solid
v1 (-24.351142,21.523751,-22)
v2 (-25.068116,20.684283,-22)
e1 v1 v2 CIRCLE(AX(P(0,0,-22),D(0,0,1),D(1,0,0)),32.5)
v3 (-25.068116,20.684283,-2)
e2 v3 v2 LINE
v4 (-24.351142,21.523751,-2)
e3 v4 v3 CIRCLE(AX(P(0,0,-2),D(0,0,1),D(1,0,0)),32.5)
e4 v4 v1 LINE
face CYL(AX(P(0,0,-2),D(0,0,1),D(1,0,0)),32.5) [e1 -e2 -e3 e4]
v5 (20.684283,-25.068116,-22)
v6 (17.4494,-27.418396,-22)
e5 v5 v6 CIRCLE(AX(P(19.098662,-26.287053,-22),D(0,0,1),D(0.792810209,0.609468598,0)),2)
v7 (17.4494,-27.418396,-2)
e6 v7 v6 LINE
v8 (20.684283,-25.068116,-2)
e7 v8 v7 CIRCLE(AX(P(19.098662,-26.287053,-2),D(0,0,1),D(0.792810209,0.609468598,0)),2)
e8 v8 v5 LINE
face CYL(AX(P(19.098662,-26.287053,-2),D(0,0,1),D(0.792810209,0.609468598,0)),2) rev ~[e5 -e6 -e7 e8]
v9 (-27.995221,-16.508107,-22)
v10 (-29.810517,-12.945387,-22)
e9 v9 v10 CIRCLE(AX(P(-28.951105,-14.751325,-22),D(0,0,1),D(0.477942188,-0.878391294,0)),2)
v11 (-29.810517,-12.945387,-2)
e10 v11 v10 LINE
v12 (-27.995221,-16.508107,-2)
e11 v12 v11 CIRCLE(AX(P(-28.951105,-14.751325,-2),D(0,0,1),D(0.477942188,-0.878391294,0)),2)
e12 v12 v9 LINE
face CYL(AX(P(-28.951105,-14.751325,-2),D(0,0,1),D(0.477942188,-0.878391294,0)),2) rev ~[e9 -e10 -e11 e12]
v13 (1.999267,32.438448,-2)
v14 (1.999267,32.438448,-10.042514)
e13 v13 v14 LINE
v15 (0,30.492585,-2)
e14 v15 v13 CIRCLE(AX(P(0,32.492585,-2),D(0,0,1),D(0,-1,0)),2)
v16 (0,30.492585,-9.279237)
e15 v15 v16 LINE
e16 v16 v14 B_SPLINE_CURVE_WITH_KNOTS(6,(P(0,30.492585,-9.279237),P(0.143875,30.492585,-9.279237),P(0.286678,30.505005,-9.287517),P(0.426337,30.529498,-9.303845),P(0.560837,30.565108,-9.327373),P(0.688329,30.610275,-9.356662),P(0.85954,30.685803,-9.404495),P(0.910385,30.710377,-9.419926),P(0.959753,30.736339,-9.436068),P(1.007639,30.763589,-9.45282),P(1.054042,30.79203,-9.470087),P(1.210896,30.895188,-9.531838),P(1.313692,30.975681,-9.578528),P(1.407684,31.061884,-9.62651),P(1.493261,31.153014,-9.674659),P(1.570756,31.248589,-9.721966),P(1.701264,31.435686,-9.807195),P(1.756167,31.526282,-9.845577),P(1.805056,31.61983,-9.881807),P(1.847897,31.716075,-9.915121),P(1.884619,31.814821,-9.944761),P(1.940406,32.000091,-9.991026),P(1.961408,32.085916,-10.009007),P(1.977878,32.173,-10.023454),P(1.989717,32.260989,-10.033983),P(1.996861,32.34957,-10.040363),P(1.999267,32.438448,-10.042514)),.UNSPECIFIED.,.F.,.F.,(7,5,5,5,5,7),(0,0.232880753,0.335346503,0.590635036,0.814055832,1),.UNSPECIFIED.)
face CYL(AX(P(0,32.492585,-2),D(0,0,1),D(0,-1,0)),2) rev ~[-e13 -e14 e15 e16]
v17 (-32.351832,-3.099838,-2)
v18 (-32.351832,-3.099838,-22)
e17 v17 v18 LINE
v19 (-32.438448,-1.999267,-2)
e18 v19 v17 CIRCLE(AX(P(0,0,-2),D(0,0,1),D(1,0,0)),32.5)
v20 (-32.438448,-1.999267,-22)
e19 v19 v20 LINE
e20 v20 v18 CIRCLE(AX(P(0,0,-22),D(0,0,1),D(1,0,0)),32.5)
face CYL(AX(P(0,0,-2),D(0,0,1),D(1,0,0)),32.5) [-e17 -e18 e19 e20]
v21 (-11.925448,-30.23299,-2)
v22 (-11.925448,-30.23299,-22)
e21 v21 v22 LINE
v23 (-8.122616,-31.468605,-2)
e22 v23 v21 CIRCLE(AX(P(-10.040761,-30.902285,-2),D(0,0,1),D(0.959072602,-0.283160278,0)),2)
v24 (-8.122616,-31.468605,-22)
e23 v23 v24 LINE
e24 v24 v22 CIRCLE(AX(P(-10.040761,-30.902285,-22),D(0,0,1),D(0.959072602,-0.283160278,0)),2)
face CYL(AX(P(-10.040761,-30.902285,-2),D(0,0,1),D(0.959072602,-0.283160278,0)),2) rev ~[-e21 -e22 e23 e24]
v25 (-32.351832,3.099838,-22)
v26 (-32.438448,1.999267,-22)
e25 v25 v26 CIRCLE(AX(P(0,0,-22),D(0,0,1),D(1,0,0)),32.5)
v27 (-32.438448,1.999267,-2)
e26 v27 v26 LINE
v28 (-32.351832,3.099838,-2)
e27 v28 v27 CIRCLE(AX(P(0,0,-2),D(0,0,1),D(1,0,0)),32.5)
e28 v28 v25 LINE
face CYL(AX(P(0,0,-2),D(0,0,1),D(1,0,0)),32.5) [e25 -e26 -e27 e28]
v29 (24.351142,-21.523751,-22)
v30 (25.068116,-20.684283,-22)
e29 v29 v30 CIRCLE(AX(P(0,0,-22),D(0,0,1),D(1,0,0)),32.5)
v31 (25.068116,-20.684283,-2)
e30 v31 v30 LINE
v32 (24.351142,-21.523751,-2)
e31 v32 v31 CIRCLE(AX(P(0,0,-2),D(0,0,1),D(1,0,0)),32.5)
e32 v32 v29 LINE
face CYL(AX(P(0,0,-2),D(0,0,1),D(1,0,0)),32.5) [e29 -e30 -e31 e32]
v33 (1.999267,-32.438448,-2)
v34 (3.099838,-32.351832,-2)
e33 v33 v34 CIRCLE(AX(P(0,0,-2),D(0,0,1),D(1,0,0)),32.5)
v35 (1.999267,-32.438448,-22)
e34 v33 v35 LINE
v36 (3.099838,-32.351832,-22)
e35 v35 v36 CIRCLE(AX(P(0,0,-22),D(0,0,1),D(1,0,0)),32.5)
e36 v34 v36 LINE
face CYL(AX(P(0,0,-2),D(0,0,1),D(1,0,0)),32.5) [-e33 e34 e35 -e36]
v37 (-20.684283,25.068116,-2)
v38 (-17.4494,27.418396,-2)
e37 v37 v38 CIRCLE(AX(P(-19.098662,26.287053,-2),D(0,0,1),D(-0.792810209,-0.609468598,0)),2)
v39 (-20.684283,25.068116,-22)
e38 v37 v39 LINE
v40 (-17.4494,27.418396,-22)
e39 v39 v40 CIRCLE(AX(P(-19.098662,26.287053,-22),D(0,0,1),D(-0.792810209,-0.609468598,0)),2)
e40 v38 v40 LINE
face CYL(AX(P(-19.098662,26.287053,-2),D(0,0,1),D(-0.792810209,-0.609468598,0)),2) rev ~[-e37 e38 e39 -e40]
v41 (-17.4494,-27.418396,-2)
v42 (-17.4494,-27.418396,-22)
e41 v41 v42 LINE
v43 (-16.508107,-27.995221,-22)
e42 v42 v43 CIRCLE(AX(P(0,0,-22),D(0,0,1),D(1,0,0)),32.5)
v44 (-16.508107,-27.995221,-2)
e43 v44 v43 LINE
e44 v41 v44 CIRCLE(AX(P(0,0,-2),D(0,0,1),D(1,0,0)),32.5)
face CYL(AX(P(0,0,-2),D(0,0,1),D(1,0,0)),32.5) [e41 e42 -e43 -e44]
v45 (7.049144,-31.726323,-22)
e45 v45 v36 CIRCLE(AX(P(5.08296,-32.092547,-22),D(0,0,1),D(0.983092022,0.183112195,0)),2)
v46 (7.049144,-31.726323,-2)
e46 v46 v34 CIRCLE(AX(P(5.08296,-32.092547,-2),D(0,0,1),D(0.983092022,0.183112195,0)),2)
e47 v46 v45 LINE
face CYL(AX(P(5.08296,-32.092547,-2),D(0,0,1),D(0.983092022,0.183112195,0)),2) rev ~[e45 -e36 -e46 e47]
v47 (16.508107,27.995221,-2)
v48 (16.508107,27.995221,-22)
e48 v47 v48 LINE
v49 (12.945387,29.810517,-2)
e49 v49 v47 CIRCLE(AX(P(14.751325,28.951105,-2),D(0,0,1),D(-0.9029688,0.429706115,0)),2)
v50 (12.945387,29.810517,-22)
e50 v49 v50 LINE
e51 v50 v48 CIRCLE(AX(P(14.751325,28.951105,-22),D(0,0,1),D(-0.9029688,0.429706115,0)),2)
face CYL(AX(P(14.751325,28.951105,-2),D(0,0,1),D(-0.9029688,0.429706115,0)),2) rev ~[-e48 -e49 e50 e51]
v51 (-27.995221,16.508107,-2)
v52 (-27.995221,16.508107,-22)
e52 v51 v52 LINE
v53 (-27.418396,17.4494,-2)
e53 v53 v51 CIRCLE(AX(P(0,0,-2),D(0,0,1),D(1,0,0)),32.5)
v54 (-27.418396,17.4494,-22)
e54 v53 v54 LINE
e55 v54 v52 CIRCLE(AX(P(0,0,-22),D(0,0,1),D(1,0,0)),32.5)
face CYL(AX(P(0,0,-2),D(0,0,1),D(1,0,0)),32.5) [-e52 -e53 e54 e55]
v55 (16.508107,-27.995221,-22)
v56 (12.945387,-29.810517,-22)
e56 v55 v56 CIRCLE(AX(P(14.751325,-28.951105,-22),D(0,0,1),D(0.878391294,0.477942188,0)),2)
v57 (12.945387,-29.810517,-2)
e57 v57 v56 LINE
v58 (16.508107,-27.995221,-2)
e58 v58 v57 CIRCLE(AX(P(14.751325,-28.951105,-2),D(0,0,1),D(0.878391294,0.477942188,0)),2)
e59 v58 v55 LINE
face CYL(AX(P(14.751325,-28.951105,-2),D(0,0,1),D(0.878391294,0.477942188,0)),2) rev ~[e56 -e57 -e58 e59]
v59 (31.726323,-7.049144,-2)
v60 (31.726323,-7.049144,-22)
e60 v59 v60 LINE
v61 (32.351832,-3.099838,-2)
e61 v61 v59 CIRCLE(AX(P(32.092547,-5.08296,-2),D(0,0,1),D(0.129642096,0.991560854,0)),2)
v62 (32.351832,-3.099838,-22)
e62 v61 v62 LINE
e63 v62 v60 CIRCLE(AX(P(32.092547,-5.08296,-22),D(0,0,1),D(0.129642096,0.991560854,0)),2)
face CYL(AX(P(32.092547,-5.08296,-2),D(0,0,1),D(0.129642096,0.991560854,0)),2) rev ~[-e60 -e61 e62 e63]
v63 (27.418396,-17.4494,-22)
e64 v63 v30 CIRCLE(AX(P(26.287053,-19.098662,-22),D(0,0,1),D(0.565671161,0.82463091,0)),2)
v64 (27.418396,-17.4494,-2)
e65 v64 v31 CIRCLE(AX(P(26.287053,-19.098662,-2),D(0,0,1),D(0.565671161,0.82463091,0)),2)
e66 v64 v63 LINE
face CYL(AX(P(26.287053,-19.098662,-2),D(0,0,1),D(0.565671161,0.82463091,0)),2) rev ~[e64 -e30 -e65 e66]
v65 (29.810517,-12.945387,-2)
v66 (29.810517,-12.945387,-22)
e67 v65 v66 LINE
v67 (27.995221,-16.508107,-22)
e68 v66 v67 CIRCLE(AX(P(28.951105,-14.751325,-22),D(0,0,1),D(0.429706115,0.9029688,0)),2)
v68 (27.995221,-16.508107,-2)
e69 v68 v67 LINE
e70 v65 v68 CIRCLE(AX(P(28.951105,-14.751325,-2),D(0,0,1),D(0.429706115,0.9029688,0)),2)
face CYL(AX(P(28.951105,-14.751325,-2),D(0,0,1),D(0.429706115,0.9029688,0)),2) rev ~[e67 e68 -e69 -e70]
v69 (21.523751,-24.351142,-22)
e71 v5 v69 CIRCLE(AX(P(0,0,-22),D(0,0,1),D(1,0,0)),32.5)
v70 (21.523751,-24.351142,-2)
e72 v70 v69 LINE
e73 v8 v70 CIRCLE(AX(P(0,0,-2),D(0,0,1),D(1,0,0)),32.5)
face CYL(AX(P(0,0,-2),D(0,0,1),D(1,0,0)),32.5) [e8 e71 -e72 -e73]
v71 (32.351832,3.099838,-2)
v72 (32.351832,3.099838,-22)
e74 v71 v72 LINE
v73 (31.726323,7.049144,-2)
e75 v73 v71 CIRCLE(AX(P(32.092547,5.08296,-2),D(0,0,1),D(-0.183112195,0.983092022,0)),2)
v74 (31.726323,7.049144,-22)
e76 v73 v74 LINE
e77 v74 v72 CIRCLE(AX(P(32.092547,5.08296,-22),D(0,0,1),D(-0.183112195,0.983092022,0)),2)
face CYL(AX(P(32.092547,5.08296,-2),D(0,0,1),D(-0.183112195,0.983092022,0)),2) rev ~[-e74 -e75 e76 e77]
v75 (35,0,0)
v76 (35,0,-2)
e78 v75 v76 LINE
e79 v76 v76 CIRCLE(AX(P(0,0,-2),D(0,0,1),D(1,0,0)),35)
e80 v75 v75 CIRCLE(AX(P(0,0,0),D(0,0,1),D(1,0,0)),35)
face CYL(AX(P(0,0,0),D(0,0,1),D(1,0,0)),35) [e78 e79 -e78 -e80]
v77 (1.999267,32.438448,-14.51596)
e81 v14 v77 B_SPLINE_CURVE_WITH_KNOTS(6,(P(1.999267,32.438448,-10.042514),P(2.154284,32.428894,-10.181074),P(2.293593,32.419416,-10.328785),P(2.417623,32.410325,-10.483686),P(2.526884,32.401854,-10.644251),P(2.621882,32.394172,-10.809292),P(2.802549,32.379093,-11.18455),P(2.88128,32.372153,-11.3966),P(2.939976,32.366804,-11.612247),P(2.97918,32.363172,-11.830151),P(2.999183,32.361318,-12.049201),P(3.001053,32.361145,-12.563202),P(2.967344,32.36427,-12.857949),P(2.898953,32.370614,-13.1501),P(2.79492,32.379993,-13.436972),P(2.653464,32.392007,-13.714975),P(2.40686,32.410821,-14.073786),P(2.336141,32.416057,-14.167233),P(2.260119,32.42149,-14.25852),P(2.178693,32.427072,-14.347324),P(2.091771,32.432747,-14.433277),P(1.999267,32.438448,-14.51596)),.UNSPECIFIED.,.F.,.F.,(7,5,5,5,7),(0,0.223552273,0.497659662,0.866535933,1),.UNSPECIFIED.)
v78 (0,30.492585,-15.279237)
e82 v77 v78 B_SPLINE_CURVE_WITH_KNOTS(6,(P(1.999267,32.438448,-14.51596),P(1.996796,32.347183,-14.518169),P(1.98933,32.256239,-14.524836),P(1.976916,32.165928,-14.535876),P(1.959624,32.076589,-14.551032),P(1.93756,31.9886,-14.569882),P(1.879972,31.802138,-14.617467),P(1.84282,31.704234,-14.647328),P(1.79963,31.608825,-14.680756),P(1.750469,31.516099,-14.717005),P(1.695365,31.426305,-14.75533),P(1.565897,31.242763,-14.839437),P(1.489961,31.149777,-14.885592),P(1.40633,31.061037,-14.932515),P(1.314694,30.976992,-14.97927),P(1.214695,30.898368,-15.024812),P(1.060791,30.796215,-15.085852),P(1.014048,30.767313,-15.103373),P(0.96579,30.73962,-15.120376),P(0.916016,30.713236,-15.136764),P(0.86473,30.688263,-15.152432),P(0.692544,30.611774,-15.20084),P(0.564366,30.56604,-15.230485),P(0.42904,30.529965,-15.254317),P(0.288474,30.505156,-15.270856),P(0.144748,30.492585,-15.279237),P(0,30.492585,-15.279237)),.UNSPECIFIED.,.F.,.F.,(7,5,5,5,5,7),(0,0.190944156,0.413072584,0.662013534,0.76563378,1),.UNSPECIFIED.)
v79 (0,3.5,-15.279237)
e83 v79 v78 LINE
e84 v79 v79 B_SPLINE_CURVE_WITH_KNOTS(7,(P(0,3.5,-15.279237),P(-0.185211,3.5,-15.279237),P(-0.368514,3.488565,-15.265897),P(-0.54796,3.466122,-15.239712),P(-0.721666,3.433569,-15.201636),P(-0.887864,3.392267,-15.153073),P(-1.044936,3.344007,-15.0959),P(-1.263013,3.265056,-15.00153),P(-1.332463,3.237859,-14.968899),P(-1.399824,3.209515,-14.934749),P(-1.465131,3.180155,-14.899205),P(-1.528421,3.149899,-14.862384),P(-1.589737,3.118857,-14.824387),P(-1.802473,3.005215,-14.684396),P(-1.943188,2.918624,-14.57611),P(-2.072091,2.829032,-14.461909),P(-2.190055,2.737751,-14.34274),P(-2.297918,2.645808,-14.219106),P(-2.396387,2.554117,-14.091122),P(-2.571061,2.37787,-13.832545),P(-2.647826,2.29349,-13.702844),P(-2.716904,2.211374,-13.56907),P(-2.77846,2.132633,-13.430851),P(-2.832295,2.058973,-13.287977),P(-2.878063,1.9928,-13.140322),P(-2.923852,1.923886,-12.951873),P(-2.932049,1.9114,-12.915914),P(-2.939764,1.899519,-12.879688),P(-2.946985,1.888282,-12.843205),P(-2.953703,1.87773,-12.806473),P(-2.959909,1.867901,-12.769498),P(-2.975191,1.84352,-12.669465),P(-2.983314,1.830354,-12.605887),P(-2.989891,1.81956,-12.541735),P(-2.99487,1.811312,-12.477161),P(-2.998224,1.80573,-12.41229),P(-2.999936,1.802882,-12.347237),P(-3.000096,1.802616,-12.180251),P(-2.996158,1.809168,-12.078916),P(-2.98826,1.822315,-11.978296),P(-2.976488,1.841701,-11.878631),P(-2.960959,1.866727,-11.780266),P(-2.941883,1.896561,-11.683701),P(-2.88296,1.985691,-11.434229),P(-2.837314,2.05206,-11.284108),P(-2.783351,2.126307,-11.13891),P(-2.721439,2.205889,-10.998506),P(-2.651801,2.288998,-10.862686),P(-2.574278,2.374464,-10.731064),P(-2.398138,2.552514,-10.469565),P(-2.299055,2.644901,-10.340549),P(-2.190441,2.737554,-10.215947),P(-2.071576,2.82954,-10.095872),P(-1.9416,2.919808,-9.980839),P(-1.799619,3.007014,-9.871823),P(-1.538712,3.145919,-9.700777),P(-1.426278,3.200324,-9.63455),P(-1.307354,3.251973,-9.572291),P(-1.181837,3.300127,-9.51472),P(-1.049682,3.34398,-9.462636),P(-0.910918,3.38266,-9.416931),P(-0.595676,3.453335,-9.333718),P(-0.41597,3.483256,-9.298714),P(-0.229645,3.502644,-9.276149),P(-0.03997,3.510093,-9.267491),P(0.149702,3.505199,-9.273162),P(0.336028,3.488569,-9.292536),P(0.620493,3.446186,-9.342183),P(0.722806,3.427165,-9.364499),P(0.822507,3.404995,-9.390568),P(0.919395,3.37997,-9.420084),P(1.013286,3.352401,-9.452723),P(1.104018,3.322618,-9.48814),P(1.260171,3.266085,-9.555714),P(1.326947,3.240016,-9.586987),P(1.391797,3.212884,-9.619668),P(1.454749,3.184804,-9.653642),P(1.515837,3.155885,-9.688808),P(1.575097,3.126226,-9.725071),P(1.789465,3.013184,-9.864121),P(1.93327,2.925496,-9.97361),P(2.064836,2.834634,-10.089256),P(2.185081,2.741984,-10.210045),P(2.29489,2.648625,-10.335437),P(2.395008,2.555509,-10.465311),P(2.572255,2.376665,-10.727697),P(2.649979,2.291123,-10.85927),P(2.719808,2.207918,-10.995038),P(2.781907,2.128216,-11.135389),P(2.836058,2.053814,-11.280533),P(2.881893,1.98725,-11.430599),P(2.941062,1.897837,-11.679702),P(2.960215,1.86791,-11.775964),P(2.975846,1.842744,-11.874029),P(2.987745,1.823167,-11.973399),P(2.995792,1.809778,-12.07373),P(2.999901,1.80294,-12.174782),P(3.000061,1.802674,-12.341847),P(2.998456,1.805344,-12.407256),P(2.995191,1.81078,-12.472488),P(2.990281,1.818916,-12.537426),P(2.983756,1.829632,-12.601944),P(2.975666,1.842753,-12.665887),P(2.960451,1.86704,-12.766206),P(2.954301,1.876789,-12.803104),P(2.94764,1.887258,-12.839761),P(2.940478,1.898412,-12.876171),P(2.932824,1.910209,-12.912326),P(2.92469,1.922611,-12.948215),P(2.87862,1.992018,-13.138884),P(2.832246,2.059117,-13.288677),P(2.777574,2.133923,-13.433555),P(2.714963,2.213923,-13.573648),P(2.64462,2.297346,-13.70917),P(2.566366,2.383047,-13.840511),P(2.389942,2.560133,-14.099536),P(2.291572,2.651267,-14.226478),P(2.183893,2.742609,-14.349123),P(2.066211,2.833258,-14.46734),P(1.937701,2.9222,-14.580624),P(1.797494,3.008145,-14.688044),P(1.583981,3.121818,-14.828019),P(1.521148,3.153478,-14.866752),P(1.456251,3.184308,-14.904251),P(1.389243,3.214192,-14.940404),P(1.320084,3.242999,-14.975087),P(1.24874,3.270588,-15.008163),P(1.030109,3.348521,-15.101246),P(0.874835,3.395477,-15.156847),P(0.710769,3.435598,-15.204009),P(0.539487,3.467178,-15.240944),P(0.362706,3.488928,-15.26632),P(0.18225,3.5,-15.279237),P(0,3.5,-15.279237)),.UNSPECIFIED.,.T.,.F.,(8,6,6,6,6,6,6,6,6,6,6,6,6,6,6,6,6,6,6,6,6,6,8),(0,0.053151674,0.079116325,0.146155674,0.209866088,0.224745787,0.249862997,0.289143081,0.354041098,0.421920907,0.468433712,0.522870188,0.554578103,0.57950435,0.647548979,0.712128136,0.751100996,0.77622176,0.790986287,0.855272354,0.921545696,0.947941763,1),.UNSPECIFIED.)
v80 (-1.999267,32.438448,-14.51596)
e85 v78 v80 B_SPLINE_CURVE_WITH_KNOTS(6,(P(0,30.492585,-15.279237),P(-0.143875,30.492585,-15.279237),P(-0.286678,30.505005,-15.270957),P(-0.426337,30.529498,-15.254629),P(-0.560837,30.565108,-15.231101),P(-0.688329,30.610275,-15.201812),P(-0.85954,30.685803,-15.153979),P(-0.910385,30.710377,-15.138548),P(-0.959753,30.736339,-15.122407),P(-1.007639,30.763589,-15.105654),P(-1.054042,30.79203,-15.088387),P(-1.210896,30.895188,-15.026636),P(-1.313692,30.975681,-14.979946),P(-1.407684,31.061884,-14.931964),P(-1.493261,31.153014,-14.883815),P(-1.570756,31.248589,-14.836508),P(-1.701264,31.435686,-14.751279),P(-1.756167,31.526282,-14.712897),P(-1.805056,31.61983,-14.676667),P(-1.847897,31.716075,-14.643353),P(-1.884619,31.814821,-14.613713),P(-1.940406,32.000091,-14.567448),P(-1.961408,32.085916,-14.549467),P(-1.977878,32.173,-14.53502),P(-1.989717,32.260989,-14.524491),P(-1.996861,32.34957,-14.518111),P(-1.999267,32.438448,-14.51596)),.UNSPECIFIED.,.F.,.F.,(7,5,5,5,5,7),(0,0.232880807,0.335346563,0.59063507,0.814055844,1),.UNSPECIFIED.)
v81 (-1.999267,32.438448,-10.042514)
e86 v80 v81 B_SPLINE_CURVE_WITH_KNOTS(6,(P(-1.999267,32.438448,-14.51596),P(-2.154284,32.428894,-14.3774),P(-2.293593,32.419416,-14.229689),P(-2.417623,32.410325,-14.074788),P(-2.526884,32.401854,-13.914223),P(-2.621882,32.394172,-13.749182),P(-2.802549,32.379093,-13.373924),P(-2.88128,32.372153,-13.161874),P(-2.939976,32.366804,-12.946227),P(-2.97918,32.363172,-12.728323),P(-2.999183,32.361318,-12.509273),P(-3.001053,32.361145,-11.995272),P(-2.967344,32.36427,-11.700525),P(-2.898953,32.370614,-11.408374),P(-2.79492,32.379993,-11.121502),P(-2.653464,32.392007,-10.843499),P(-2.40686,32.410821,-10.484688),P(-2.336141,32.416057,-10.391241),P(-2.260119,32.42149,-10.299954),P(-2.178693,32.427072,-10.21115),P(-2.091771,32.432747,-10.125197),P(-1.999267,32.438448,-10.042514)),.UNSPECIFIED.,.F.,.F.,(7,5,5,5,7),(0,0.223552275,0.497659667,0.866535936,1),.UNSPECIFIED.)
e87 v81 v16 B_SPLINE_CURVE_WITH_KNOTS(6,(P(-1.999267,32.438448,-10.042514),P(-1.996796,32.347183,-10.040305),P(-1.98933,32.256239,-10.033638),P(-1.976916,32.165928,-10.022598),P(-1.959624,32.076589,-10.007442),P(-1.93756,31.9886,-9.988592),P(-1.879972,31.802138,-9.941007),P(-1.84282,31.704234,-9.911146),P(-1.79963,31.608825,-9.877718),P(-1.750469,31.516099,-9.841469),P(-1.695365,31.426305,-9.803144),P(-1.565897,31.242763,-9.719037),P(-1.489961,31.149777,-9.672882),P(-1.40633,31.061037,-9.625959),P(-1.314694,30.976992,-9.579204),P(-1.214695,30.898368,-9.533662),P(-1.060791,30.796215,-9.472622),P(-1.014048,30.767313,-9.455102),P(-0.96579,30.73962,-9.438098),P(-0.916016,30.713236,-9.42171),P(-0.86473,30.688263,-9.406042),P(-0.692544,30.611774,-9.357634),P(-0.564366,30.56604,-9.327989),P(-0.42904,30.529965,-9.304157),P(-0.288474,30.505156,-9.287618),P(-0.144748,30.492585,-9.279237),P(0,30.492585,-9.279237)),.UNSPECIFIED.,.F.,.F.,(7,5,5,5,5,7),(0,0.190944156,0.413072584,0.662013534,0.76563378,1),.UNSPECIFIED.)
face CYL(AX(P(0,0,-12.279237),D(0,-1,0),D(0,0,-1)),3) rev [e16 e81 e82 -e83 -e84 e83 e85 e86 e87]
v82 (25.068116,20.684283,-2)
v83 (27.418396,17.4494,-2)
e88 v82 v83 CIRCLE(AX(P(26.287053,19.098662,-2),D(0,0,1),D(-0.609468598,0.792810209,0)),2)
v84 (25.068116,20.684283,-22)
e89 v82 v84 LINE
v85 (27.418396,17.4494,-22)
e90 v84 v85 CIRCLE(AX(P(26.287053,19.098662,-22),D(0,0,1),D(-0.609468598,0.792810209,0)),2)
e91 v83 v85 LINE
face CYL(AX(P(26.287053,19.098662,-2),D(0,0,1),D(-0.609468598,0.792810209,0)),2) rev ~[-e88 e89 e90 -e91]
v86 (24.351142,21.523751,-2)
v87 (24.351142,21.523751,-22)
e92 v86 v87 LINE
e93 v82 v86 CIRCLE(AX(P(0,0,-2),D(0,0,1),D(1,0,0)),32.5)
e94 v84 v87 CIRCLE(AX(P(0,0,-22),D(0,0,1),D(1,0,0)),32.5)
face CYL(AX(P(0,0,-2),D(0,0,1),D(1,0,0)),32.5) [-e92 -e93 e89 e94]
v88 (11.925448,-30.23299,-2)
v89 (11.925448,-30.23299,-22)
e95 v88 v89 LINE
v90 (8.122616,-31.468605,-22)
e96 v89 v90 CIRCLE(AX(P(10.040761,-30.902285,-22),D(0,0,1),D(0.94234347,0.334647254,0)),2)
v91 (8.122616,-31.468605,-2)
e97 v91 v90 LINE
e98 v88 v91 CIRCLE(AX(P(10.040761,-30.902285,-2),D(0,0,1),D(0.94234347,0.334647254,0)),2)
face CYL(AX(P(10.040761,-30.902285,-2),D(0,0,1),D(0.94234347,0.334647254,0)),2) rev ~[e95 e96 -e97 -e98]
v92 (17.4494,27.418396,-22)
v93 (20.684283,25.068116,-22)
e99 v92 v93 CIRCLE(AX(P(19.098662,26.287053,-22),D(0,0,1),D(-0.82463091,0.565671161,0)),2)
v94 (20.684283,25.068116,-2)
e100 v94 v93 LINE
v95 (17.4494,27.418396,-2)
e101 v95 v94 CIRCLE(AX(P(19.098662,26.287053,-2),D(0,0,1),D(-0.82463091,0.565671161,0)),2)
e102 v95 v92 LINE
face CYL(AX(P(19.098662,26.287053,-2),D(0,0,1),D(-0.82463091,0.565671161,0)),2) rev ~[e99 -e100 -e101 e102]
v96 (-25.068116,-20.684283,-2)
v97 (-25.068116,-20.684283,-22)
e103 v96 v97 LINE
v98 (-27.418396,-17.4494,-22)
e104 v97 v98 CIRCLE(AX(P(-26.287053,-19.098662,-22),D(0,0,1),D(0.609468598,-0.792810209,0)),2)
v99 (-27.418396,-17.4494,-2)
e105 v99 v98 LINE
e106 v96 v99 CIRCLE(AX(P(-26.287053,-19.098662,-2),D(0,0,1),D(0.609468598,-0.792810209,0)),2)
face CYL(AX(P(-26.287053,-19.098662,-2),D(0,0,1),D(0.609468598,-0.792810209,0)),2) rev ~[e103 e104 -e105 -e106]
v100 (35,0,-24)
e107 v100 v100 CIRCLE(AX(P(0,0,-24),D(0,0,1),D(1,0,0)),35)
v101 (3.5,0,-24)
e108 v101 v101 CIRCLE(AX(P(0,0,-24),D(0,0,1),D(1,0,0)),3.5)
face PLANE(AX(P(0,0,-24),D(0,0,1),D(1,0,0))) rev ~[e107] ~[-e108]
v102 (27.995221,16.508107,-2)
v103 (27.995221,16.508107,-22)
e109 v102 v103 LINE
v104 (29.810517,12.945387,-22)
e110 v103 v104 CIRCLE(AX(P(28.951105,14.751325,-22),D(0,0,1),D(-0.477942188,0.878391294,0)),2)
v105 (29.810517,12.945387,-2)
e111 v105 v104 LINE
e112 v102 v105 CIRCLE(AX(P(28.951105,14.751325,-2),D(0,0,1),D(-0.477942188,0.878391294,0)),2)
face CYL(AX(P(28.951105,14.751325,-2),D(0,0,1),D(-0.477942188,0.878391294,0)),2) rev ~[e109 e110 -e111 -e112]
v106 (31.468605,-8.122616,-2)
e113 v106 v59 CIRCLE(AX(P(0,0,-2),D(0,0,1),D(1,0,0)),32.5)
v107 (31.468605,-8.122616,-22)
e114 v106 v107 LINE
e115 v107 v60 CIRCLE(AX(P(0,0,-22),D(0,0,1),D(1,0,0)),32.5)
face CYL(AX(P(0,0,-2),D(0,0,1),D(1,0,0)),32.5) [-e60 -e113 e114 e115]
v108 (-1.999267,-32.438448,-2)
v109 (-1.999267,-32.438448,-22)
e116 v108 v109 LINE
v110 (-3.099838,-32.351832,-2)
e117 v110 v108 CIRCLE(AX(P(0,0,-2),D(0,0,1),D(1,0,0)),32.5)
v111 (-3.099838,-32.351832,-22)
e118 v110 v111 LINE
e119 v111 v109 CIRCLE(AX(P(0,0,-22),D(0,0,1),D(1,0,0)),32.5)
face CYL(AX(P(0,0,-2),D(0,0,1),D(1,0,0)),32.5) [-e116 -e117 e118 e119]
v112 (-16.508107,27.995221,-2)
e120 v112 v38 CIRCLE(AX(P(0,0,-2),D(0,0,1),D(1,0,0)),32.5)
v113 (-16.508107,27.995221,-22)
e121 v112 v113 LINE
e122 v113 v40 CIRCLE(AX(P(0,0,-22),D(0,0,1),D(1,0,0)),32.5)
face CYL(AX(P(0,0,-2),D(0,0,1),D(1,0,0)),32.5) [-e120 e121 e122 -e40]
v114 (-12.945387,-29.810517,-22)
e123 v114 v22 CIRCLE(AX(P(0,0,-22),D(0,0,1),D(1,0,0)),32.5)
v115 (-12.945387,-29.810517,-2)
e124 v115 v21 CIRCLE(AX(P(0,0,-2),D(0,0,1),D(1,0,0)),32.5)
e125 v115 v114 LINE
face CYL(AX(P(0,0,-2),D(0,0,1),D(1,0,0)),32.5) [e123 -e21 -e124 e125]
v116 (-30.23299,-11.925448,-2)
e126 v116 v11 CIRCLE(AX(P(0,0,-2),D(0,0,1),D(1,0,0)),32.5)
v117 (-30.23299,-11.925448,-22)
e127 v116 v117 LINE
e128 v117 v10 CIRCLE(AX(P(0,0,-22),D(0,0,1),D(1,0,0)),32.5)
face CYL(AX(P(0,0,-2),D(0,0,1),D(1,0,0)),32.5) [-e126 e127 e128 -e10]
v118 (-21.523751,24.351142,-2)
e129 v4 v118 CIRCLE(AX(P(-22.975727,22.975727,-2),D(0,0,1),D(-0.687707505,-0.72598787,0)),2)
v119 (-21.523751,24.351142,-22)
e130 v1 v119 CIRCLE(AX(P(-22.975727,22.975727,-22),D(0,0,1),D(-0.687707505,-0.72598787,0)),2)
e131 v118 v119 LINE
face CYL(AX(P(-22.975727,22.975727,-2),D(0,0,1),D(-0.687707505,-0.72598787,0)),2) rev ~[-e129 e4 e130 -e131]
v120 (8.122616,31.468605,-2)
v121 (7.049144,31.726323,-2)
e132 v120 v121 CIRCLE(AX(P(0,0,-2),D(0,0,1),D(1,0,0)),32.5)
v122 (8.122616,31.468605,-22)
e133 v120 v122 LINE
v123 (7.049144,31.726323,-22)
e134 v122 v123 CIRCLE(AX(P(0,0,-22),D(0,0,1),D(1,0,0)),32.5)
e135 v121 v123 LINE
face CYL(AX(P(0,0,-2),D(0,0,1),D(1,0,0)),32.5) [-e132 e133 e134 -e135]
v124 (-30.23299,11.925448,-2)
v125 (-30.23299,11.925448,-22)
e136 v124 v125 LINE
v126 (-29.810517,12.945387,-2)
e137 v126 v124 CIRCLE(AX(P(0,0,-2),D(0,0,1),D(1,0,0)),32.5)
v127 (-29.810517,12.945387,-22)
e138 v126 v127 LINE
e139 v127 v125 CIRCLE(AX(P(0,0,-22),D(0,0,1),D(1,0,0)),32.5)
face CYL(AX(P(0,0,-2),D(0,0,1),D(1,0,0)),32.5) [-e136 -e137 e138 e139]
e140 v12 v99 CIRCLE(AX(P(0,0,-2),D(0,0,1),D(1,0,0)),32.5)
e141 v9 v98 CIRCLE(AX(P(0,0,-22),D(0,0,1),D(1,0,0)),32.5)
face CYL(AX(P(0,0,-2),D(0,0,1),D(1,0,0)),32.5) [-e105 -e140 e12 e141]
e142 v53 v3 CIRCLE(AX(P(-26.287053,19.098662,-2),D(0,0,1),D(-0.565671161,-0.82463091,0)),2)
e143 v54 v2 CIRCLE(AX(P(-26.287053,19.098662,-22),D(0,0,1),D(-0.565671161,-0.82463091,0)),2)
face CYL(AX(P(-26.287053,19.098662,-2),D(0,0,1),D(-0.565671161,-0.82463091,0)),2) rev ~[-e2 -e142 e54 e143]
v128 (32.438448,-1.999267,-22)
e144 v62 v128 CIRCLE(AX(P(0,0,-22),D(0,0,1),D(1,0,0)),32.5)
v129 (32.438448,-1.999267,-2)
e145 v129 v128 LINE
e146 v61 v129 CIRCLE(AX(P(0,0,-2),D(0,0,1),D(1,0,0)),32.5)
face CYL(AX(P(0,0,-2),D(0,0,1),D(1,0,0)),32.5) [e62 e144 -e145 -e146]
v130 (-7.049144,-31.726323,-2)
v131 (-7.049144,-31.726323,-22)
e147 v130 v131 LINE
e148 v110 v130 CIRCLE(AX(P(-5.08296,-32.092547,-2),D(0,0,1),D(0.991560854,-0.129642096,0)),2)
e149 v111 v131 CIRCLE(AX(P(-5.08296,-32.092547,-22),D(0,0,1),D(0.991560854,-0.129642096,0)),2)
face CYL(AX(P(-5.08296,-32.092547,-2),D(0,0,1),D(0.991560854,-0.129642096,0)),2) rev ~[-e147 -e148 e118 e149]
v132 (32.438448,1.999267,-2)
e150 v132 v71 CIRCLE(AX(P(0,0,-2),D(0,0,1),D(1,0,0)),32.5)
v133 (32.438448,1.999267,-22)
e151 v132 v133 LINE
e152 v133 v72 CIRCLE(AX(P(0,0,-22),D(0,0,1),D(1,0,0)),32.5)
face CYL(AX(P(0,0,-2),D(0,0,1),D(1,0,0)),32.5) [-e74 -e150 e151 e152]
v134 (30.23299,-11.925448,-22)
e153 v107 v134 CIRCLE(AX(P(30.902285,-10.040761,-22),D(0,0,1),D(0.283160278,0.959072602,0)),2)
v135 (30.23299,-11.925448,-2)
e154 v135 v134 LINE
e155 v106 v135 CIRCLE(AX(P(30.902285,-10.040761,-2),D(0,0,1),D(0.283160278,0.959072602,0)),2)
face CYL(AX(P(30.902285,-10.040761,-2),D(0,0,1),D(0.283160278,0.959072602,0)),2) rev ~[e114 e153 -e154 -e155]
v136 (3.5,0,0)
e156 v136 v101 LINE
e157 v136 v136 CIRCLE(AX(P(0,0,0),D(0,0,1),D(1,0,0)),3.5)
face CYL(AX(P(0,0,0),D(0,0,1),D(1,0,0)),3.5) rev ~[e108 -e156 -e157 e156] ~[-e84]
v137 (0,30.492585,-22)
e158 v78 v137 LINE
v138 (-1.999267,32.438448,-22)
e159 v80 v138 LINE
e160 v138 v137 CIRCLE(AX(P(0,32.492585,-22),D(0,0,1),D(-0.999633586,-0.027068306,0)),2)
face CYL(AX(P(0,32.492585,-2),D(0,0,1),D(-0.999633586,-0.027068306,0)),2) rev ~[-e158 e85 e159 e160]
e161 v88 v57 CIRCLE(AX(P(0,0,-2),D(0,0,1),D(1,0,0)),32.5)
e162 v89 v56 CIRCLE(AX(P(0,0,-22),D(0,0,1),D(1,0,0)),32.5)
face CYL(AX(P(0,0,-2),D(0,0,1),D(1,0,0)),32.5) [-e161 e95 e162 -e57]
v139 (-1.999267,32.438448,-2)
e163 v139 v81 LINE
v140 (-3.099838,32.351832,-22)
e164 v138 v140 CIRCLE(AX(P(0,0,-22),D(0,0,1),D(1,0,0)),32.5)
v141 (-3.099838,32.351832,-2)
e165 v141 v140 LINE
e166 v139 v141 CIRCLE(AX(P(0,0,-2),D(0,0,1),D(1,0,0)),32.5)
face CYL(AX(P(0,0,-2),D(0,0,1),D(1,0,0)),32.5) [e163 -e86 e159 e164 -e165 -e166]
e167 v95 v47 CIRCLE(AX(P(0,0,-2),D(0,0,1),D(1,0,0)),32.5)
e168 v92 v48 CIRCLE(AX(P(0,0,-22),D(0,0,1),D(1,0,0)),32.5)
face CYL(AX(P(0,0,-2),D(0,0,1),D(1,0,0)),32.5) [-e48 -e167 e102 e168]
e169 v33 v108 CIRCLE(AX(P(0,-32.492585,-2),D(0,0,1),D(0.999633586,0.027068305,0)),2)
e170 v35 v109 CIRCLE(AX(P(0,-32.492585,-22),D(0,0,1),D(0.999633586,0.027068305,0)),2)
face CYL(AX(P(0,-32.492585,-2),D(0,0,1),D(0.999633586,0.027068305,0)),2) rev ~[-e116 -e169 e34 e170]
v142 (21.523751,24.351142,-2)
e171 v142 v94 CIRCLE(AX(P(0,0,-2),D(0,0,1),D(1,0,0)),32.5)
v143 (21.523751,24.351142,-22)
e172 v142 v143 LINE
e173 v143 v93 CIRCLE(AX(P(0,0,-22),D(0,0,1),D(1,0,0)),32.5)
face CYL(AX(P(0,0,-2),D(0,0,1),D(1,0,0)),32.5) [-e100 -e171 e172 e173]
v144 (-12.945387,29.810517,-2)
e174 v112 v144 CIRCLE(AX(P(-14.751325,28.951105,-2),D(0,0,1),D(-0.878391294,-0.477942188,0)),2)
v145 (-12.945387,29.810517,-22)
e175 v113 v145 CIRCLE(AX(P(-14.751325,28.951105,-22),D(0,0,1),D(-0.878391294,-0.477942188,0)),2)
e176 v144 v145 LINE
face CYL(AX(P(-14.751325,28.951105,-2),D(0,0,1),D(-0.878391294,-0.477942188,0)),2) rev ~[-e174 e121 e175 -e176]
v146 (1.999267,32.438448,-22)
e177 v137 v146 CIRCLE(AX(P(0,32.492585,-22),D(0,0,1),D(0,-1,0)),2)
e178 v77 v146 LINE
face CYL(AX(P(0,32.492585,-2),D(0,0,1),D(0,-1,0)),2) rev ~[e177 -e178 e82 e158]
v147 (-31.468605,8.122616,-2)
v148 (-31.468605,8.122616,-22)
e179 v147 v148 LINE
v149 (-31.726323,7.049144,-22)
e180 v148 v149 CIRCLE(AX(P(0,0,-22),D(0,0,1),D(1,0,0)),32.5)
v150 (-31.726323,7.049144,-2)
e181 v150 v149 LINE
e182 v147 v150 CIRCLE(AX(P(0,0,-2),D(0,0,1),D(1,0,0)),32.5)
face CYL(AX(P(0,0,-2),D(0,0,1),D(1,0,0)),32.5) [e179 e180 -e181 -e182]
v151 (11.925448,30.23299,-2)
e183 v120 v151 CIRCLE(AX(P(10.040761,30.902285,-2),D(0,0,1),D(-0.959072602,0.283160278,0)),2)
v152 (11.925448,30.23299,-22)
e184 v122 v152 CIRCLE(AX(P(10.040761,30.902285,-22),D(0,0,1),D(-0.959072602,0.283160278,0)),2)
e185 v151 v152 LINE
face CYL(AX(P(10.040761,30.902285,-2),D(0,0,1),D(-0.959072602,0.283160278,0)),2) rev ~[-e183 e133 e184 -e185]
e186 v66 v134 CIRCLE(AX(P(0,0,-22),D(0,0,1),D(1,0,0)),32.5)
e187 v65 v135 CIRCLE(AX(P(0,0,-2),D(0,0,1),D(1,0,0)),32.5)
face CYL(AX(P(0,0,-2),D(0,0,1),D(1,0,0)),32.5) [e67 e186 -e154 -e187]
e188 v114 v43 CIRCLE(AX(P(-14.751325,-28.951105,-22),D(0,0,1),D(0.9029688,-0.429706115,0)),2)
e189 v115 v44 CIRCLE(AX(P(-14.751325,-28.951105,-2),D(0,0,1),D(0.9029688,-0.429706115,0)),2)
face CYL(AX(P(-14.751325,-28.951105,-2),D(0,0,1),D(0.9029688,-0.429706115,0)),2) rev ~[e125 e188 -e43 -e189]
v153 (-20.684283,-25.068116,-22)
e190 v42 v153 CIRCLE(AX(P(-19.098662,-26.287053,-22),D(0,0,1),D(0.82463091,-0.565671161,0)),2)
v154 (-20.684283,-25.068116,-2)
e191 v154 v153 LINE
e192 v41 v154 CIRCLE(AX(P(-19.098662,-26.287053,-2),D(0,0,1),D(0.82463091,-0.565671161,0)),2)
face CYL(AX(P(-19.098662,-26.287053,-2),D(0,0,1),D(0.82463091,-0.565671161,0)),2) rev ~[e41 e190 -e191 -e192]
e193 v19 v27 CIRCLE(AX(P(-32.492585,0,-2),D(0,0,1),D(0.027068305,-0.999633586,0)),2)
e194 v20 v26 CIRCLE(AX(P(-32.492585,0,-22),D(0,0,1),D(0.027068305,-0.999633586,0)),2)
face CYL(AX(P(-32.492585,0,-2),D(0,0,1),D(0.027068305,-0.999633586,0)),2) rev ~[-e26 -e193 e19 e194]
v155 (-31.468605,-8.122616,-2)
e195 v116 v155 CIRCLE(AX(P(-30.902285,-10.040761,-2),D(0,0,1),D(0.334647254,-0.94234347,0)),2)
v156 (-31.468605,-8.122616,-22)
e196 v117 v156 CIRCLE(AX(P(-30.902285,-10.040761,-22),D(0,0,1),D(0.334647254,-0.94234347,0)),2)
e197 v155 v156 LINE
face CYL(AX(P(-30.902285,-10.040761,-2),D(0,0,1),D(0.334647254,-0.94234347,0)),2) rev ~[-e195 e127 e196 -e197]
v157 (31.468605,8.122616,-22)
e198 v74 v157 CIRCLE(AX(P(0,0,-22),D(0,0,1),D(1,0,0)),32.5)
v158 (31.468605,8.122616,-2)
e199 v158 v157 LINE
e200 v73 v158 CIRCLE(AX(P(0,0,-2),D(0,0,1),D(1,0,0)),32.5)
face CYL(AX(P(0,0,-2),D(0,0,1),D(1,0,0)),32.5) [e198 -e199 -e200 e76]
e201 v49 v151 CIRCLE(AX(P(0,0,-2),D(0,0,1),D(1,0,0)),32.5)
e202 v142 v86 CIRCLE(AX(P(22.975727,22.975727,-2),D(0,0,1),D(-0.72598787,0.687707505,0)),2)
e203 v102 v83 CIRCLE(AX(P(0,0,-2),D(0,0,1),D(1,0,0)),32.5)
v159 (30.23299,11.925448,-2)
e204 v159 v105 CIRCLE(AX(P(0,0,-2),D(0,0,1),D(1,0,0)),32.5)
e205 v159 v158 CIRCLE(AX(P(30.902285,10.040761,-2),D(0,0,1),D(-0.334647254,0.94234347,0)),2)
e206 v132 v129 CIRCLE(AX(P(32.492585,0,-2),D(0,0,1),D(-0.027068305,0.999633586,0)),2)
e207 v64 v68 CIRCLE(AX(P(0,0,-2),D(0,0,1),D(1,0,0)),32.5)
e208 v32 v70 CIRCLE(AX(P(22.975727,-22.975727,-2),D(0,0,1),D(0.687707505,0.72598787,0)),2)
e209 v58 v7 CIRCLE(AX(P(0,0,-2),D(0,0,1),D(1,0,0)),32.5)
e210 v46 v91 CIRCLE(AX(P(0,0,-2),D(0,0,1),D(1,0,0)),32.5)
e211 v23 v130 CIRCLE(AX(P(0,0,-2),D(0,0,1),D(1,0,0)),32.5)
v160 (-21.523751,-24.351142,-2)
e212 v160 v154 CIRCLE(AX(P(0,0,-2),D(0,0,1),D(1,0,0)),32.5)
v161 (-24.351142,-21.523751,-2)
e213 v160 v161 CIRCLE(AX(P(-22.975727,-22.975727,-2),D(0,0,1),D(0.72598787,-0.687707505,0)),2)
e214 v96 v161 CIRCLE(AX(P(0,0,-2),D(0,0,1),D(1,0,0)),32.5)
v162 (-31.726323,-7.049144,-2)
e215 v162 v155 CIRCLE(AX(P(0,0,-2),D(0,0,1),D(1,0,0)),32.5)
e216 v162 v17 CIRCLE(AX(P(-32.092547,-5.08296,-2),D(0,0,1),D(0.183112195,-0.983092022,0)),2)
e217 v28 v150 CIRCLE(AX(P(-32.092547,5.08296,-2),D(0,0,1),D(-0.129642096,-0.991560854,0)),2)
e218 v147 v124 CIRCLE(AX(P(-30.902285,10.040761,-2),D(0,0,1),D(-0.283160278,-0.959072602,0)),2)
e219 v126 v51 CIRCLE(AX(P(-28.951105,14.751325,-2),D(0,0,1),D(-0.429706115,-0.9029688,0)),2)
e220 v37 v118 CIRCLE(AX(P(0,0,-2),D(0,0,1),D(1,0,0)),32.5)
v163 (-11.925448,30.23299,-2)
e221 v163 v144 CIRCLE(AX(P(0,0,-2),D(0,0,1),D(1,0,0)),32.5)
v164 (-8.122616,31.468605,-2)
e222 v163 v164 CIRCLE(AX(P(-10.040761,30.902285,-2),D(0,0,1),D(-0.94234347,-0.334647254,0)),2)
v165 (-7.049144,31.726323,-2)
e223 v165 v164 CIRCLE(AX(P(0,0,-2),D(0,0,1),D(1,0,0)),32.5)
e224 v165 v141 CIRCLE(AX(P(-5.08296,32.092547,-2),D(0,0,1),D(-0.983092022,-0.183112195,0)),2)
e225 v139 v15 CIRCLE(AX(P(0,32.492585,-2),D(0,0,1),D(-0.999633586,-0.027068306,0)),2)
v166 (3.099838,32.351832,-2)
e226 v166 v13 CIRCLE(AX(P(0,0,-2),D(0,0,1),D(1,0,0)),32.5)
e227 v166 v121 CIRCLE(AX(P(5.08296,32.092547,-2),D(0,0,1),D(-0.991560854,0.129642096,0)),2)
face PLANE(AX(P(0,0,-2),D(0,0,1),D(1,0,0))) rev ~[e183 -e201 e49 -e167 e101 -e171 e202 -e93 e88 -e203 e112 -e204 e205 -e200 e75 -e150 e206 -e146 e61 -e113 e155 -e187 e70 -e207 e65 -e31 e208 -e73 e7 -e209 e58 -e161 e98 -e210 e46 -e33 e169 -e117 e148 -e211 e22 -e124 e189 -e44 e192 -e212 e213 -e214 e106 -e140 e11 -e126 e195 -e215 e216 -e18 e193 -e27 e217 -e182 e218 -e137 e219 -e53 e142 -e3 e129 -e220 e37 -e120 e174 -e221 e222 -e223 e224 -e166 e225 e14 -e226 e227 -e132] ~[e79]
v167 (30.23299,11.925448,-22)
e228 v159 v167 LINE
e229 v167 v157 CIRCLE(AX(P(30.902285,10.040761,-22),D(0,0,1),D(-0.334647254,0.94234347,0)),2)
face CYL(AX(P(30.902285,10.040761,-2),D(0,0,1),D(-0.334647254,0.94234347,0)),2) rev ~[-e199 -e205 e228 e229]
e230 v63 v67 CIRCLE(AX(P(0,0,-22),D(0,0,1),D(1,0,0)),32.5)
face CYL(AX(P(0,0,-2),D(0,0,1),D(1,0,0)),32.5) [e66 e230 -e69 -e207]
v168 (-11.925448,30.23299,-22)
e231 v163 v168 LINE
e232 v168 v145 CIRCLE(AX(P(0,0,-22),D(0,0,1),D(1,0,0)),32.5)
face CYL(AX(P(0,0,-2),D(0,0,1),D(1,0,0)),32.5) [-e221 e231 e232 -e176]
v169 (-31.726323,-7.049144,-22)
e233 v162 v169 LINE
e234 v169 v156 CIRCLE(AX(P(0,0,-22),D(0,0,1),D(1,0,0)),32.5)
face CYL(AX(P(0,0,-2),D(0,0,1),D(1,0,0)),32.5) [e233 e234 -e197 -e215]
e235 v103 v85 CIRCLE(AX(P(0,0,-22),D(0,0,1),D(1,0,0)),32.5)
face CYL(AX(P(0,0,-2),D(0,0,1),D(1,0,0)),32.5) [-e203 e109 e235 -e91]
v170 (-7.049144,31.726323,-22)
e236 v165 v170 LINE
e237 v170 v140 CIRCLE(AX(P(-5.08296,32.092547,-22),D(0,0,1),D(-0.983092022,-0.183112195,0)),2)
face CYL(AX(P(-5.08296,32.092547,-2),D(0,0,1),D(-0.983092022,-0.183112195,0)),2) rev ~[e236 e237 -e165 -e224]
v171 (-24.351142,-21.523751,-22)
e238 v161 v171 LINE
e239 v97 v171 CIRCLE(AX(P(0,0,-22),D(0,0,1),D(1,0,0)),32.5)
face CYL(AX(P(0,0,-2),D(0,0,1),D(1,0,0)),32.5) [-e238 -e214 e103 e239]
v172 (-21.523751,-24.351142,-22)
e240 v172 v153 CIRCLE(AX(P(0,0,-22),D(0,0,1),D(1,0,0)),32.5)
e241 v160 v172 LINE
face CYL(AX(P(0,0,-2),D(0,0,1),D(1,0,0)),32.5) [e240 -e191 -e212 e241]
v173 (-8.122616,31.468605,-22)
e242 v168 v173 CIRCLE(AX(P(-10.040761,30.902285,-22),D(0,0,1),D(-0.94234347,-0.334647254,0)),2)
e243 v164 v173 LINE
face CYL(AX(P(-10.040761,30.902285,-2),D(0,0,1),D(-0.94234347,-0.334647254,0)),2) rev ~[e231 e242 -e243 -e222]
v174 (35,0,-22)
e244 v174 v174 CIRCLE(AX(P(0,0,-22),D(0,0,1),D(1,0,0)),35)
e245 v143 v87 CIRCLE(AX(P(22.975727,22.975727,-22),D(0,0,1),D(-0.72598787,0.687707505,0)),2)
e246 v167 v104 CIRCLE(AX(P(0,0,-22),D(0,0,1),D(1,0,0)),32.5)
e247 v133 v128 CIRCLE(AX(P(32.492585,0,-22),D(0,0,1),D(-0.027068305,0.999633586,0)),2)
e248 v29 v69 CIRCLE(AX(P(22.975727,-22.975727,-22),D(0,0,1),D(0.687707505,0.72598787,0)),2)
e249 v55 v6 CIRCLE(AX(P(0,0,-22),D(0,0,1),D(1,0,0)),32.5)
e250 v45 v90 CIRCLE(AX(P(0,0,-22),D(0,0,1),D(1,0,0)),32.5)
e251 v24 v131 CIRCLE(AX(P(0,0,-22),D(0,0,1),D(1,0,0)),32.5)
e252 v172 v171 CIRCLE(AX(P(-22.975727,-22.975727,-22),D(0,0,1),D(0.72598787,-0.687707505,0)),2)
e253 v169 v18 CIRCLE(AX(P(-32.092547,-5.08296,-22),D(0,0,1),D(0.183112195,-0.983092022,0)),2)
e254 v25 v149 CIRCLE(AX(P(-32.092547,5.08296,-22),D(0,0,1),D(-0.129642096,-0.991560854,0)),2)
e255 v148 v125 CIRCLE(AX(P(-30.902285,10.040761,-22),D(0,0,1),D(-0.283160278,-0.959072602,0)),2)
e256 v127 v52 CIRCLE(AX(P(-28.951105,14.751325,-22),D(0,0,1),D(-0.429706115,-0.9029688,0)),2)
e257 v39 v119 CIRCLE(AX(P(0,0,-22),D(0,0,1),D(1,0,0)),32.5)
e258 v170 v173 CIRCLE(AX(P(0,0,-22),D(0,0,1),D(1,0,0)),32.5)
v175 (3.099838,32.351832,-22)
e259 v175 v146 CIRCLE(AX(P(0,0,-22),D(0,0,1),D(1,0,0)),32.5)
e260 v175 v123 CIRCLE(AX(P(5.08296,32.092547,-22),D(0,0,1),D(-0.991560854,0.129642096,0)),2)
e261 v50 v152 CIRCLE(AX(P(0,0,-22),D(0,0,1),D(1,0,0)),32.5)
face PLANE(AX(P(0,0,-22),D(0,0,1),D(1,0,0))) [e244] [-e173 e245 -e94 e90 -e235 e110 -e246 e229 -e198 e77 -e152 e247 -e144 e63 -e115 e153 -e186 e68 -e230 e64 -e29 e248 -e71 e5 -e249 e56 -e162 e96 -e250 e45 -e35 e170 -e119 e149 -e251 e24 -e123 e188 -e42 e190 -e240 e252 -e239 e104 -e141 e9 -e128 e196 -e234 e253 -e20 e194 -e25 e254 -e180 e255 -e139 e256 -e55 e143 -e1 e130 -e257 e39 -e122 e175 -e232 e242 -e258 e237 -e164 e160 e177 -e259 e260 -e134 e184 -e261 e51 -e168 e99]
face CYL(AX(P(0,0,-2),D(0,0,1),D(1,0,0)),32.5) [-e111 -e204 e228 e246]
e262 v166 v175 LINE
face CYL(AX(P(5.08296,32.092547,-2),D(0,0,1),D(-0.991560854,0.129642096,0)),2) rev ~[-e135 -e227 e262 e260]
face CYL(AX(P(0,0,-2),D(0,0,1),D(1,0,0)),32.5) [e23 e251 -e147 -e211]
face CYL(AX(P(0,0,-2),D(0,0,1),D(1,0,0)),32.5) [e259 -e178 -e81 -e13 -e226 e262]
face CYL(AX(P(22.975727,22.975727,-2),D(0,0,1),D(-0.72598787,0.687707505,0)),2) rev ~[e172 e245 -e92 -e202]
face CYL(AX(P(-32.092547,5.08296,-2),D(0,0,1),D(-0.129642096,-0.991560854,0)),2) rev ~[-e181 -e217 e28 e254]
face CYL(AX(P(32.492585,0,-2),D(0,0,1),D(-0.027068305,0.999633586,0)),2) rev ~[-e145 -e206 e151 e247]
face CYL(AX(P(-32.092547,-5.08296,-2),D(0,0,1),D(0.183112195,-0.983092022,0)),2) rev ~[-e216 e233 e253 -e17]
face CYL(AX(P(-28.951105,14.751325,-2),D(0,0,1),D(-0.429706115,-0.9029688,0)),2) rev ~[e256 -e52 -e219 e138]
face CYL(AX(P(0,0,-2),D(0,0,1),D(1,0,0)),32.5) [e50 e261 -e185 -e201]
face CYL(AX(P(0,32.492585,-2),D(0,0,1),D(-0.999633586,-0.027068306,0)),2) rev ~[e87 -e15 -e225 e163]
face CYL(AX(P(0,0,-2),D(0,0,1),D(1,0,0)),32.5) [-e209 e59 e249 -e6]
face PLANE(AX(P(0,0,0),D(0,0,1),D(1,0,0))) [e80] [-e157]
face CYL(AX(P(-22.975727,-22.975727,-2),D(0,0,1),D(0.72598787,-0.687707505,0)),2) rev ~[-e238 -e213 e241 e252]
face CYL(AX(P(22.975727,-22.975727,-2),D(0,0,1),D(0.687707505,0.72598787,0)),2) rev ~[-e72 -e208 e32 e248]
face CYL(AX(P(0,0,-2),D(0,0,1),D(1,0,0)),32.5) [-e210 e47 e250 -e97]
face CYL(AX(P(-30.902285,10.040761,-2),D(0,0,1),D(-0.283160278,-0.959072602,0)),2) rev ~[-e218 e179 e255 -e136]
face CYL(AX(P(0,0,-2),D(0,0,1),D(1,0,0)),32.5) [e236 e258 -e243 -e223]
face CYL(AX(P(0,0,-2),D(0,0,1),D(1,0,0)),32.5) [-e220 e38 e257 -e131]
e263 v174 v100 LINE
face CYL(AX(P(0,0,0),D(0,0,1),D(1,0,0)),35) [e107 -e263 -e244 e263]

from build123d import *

# Parameters (mm, degrees)
SKETCH1_R           = 35
SKETCH1_R_2         = 3.5
BOSS_EXTRUDE1_DEPTH = 24
SKETCH3_OUTSIDE_W   = 92.372
SKETCH3_OUTSIDE_H   = 92.372
SKETCH3_OUTSIDE_R   = 32.5
CUT_EXTRUDE1_DEPTH  = 20
CUT_EXTRUDE2_DEPTH  = 20
SKETCH5_R           = 3
CUT_EXTRUDE3_DEPTH  = 56.009090158


with BuildPart() as part:
    # Sketch1 → Boss-Extrude1 (new body)
    with BuildSketch(Plane.XY):
        Circle(SKETCH1_R)
        Circle(SKETCH1_R_2, mode=Mode.SUBTRACT)
    extrude(amount=-BOSS_EXTRUDE1_DEPTH)

    # Sketch3 outside → Cut-Extrude1 (cut)
    with BuildSketch(Plane.XY.offset(-2)):
        Rectangle(SKETCH3_OUTSIDE_W, SKETCH3_OUTSIDE_H)
        Circle(SKETCH3_OUTSIDE_R, mode=Mode.SUBTRACT)
    extrude(amount=-CUT_EXTRUDE1_DEPTH, mode=Mode.SUBTRACT)

    # Sketch4 → Cut-Extrude2 (cut)
    with BuildSketch(Plane.XY.offset(-2)):
        with BuildLine():
            ThreePointArc((-20.684282661, 25.06811622), (-17.923091739, 24.669019428), (-17.449400423, 27.418395738))
            ThreePointArc((-17.449400423, 27.418395738), (-19.1030207, 26.293052317), (-20.684282661, 25.06811622))
        make_face()
        with BuildLine():
            ThreePointArc((-16.508107467, 27.995220804), (-13.84334388, 27.169092131), (-12.945387279, 29.810517409))
            ThreePointArc((-12.945387279, 29.810517409), (-14.754691242, 28.957712036), (-16.508107467, 27.995220804))
        make_face()
        with BuildLine():
            ThreePointArc((-11.925447881, 30.232990141), (-9.422726952, 29.000171617), (-8.122615736, 31.468605206))
            ThreePointArc((-8.122615736, 31.468605206), (-10.043052317, 30.90933678), (-11.925447881, 30.232990141))
        make_face()
        with BuildLine():
            ThreePointArc((-7.049144189, 31.726322923), (-4.770091215, 30.117170631), (-3.099838437, 32.351831504))
            ThreePointArc((-3.099838437, 32.351831504), (-5.084120114, 32.099871069), (-7.049144189, 31.726322923))
        make_face()
        with BuildLine():
            ThreePointArc((-1.999267173, 32.438448341), (-1.394942074, 31.059359006), (0, 30.492584951))
            Line((0, 30.492584951), (0, 32.5))
            ThreePointArc((0, 32.5), (-1.000107224, 32.484608441), (-1.999267173, 32.438448341))
        make_face()
        with BuildLine():
            Line((0, 32.5), (0, 30.492584951))
            ThreePointArc((0, 30.492584951), (1.394942074, 31.059359006), (1.999267173, 32.438448341))
            ThreePointArc((1.999267173, 32.438448341), (1.000107224, 32.484608441), (0, 32.5))
        make_face()
        with BuildLine():
            ThreePointArc((7.049144189, 31.726322923), (5.084120114, 32.099871069), (3.099838437, 32.351831504))
            ThreePointArc((3.099838437, 32.351831504), (4.770091215, 30.117170631), (7.049144189, 31.726322923))
        make_face()
        with BuildLine():
            ThreePointArc((11.925447881, 30.232990141), (10.043052317, 30.90933678), (8.122615736, 31.468605206))
            ThreePointArc((8.122615736, 31.468605206), (9.422726952, 29.000171617), (11.925447881, 30.232990141))
        make_face()
        with BuildLine():
            ThreePointArc((16.508107467, 27.995220804), (14.754691242, 28.957712036), (12.945387279, 29.810517409))
            ThreePointArc((12.945387279, 29.810517409), (13.84334388, 27.169092131), (16.508107467, 27.995220804))
        make_face()
        with BuildLine():
            ThreePointArc((20.684282661, 25.06811622), (19.1030207, 26.293052317), (17.449400423, 27.418395738))
            ThreePointArc((17.449400423, 27.418395738), (17.923091739, 24.669019428), (20.684282661, 25.06811622))
        make_face()
        with BuildLine():
            ThreePointArc((24.351142168, 21.523751418), (22.980970389, 22.980970389), (21.523751418, 24.351142168))
            ThreePointArc((21.523751418, 24.351142168), (21.561513595, 21.561513595), (24.351142168, 21.523751418))
        make_face()
        with BuildLine():
            ThreePointArc((27.418395738, 17.449400423), (26.293052317, 19.1030207), (25.06811622, 20.684282661))
            ThreePointArc((25.06811622, 20.684282661), (24.669019428, 17.923091739), (27.418395738, 17.449400423))
        make_face()
        with BuildLine():
            ThreePointArc((29.810517409, 12.945387279), (28.957712036, 14.754691242), (27.995220804, 16.508107467))
            ThreePointArc((27.995220804, 16.508107468), (27.169092131, 13.84334388), (29.810517409, 12.945387279))
        make_face()
        with BuildLine():
            ThreePointArc((31.468605206, 8.122615736), (30.90933678, 10.043052317), (30.232990141, 11.925447881))
            ThreePointArc((30.232990141, 11.925447881), (29.000171617, 9.422726952), (31.468605206, 8.122615736))
        make_face()
        with BuildLine():
            ThreePointArc((32.351831504, 3.099838437), (32.099871069, 5.084120114), (31.726322923, 7.049144189))
            ThreePointArc((31.726322923, 7.049144189), (30.117170631, 4.770091215), (32.351831504, 3.099838437))
        make_face()
        with BuildLine():
            ThreePointArc((32.5, 0), (32.484608441, 1.000107224), (32.438448341, 1.999267173))
            ThreePointArc((32.438448341, 1.999267173), (30.492584951, 0), (32.438448341, -1.999267173))
            ThreePointArc((32.438448341, -1.999267173), (32.484608441, -1.000107224), (32.5, 0))
        make_face()
        with BuildLine():
            ThreePointArc((31.726322923, -7.049144189), (32.099871069, -5.084120114), (32.351831504, -3.099838437))
            ThreePointArc((32.351831504, -3.099838437), (30.117170631, -4.770091215), (31.726322923, -7.049144189))
        make_face()
        with BuildLine():
            ThreePointArc((30.232990141, -11.925447881), (30.90933678, -10.043052317), (31.468605206, -8.122615736))
            ThreePointArc((31.468605206, -8.122615736), (29.000171617, -9.422726952), (30.232990141, -11.925447881))
        make_face()
        with BuildLine():
            ThreePointArc((27.995220804, -16.508107467), (28.957712036, -14.754691242), (29.810517409, -12.945387279))
            ThreePointArc((29.810517409, -12.945387279), (27.169092131, -13.84334388), (27.995220804, -16.508107467))
        make_face()
        with BuildLine():
            ThreePointArc((25.06811622, -20.684282661), (26.293052317, -19.103020699), (27.418395738, -17.449400423))
            ThreePointArc((27.418395739, -17.449400423), (24.669019428, -17.923091739), (25.06811622, -20.684282661))
        make_face()
        with BuildLine():
            ThreePointArc((21.523751418, -24.351142168), (22.980970389, -22.980970389), (24.351142168, -21.523751418))
            ThreePointArc((24.351142168, -21.523751418), (21.561513595, -21.561513595), (21.523751418, -24.351142168))
        make_face()
        with BuildLine():
            ThreePointArc((17.449400423, -27.418395738), (19.1030207, -26.293052317), (20.684282661, -25.06811622))
            ThreePointArc((20.684282661, -25.06811622), (17.923091739, -24.669019428), (17.449400423, -27.418395738))
        make_face()
        with BuildLine():
            ThreePointArc((12.945387279, -29.810517409), (14.754691242, -28.957712036), (16.508107468, -27.995220804))
            ThreePointArc((16.508107468, -27.995220804), (13.843343881, -27.169092131), (12.945387279, -29.810517409))
        make_face()
        with BuildLine():
            ThreePointArc((8.122615736, -31.468605206), (10.043052317, -30.90933678), (11.925447881, -30.232990141))
            ThreePointArc((11.925447881, -30.232990141), (9.422726952, -29.000171617), (8.122615736, -31.468605206))
        make_face()
        with BuildLine():
            ThreePointArc((3.099838437, -32.351831504), (5.084120114, -32.099871069), (7.049144189, -31.726322923))
            ThreePointArc((7.049144189, -31.726322923), (4.770091215, -30.117170631), (3.099838437, -32.351831504))
        make_face()
        with BuildLine():
            ThreePointArc((1.999267173, -32.438448341), (0, -30.492584951), (-1.999267173, -32.438448341))
            ThreePointArc((-1.999267173, -32.438448341), (0, -32.5), (1.999267173, -32.438448341))
        make_face()
        with BuildLine():
            ThreePointArc((-3.099838437, -32.351831504), (-4.770091215, -30.117170631), (-7.049144189, -31.726322923))
            ThreePointArc((-7.049144189, -31.726322923), (-5.084120114, -32.099871069), (-3.099838437, -32.351831504))
        make_face()
        with BuildLine():
            ThreePointArc((-8.122615736, -31.468605206), (-9.422726952, -29.000171617), (-11.925447881, -30.232990141))
            ThreePointArc((-11.925447881, -30.232990141), (-10.043052317, -30.90933678), (-8.122615736, -31.468605206))
        make_face()
        with BuildLine():
            ThreePointArc((-12.945387279, -29.810517409), (-13.84334388, -27.169092131), (-16.508107467, -27.995220804))
            ThreePointArc((-16.508107467, -27.995220804), (-14.754691242, -28.957712036), (-12.945387279, -29.810517409))
        make_face()
        with BuildLine():
            ThreePointArc((-17.449400423, -27.418395738), (-17.923091739, -24.669019428), (-20.684282661, -25.06811622))
            ThreePointArc((-20.684282661, -25.06811622), (-19.103020699, -26.293052317), (-17.449400423, -27.418395738))
        make_face()
        with BuildLine():
            ThreePointArc((-21.523751418, -24.351142168), (-21.561513595, -21.561513595), (-24.351142168, -21.523751418))
            ThreePointArc((-24.351142168, -21.523751418), (-22.980970389, -22.980970389), (-21.523751418, -24.351142168))
        make_face()
        with BuildLine():
            ThreePointArc((-25.06811622, -20.684282661), (-24.669019428, -17.923091739), (-27.418395738, -17.449400423))
            ThreePointArc((-27.418395738, -17.449400423), (-26.293052317, -19.1030207), (-25.06811622, -20.684282661))
        make_face()
        with BuildLine():
            ThreePointArc((-27.995220804, -16.508107468), (-27.169092131, -13.84334388), (-29.810517409, -12.945387279))
            ThreePointArc((-29.810517409, -12.945387279), (-28.957712036, -14.754691242), (-27.995220804, -16.508107468))
        make_face()
        with BuildLine():
            ThreePointArc((-30.232990141, -11.925447881), (-29.000171617, -9.422726952), (-31.468605206, -8.122615736))
            ThreePointArc((-31.468605206, -8.122615736), (-30.90933678, -10.043052317), (-30.232990141, -11.925447881))
        make_face()
        with BuildLine():
            ThreePointArc((-31.726322923, -7.049144189), (-30.117170631, -4.770091215), (-32.351831504, -3.099838437))
            ThreePointArc((-32.351831504, -3.099838437), (-32.099871069, -5.084120114), (-31.726322923, -7.049144189))
        make_face()
        with BuildLine():
            ThreePointArc((-32.438448341, -1.999267173), (-30.492584951, 0), (-32.438448341, 1.999267173))
            ThreePointArc((-32.438448341, 1.999267173), (-32.5, 0), (-32.438448341, -1.999267173))
        make_face()
        with BuildLine():
            ThreePointArc((-32.351831504, 3.099838437), (-30.117170631, 4.770091215), (-31.726322923, 7.049144189))
            ThreePointArc((-31.726322923, 7.049144189), (-32.099871069, 5.084120114), (-32.351831504, 3.099838437))
        make_face()
        with BuildLine():
            ThreePointArc((-31.468605206, 8.122615736), (-29.000171617, 9.422726952), (-30.232990141, 11.925447881))
            ThreePointArc((-30.232990141, 11.925447881), (-30.90933678, 10.043052317), (-31.468605206, 8.122615736))
        make_face()
        with BuildLine():
            ThreePointArc((-29.810517409, 12.945387279), (-27.169092131, 13.84334388), (-27.995220804, 16.508107467))
            ThreePointArc((-27.995220804, 16.508107467), (-28.957712036, 14.754691242), (-29.810517409, 12.945387279))
        make_face()
        with BuildLine():
            ThreePointArc((-27.418395738, 17.449400423), (-24.669019428, 17.923091739), (-25.06811622, 20.684282661))
            ThreePointArc((-25.06811622, 20.684282661), (-26.293052317, 19.103020699), (-27.418395738, 17.449400423))
        make_face()
        with BuildLine():
            ThreePointArc((-24.351142168, 21.523751418), (-21.561513595, 21.561513595), (-21.523751418, 24.351142168))
            ThreePointArc((-21.523751418, 24.351142168), (-22.980970389, 22.980970389), (-24.351142168, 21.523751418))
        make_face()
    extrude(amount=-CUT_EXTRUDE2_DEPTH, mode=Mode.SUBTRACT)

    # Sketch5 → Cut-Extrude3 (cut, through all)
    with BuildSketch(Plane(origin=(0, 0, 0), x_dir=(1, 0, 0), z_dir=(0, 1, 0))):
        with Locations(Location((0, 12.279237026, 0), (0, 0, 90))):
            Circle(SKETCH5_R)
    extrude(amount=CUT_EXTRUDE3_DEPTH, mode=Mode.SUBTRACT)


solid = part.part
